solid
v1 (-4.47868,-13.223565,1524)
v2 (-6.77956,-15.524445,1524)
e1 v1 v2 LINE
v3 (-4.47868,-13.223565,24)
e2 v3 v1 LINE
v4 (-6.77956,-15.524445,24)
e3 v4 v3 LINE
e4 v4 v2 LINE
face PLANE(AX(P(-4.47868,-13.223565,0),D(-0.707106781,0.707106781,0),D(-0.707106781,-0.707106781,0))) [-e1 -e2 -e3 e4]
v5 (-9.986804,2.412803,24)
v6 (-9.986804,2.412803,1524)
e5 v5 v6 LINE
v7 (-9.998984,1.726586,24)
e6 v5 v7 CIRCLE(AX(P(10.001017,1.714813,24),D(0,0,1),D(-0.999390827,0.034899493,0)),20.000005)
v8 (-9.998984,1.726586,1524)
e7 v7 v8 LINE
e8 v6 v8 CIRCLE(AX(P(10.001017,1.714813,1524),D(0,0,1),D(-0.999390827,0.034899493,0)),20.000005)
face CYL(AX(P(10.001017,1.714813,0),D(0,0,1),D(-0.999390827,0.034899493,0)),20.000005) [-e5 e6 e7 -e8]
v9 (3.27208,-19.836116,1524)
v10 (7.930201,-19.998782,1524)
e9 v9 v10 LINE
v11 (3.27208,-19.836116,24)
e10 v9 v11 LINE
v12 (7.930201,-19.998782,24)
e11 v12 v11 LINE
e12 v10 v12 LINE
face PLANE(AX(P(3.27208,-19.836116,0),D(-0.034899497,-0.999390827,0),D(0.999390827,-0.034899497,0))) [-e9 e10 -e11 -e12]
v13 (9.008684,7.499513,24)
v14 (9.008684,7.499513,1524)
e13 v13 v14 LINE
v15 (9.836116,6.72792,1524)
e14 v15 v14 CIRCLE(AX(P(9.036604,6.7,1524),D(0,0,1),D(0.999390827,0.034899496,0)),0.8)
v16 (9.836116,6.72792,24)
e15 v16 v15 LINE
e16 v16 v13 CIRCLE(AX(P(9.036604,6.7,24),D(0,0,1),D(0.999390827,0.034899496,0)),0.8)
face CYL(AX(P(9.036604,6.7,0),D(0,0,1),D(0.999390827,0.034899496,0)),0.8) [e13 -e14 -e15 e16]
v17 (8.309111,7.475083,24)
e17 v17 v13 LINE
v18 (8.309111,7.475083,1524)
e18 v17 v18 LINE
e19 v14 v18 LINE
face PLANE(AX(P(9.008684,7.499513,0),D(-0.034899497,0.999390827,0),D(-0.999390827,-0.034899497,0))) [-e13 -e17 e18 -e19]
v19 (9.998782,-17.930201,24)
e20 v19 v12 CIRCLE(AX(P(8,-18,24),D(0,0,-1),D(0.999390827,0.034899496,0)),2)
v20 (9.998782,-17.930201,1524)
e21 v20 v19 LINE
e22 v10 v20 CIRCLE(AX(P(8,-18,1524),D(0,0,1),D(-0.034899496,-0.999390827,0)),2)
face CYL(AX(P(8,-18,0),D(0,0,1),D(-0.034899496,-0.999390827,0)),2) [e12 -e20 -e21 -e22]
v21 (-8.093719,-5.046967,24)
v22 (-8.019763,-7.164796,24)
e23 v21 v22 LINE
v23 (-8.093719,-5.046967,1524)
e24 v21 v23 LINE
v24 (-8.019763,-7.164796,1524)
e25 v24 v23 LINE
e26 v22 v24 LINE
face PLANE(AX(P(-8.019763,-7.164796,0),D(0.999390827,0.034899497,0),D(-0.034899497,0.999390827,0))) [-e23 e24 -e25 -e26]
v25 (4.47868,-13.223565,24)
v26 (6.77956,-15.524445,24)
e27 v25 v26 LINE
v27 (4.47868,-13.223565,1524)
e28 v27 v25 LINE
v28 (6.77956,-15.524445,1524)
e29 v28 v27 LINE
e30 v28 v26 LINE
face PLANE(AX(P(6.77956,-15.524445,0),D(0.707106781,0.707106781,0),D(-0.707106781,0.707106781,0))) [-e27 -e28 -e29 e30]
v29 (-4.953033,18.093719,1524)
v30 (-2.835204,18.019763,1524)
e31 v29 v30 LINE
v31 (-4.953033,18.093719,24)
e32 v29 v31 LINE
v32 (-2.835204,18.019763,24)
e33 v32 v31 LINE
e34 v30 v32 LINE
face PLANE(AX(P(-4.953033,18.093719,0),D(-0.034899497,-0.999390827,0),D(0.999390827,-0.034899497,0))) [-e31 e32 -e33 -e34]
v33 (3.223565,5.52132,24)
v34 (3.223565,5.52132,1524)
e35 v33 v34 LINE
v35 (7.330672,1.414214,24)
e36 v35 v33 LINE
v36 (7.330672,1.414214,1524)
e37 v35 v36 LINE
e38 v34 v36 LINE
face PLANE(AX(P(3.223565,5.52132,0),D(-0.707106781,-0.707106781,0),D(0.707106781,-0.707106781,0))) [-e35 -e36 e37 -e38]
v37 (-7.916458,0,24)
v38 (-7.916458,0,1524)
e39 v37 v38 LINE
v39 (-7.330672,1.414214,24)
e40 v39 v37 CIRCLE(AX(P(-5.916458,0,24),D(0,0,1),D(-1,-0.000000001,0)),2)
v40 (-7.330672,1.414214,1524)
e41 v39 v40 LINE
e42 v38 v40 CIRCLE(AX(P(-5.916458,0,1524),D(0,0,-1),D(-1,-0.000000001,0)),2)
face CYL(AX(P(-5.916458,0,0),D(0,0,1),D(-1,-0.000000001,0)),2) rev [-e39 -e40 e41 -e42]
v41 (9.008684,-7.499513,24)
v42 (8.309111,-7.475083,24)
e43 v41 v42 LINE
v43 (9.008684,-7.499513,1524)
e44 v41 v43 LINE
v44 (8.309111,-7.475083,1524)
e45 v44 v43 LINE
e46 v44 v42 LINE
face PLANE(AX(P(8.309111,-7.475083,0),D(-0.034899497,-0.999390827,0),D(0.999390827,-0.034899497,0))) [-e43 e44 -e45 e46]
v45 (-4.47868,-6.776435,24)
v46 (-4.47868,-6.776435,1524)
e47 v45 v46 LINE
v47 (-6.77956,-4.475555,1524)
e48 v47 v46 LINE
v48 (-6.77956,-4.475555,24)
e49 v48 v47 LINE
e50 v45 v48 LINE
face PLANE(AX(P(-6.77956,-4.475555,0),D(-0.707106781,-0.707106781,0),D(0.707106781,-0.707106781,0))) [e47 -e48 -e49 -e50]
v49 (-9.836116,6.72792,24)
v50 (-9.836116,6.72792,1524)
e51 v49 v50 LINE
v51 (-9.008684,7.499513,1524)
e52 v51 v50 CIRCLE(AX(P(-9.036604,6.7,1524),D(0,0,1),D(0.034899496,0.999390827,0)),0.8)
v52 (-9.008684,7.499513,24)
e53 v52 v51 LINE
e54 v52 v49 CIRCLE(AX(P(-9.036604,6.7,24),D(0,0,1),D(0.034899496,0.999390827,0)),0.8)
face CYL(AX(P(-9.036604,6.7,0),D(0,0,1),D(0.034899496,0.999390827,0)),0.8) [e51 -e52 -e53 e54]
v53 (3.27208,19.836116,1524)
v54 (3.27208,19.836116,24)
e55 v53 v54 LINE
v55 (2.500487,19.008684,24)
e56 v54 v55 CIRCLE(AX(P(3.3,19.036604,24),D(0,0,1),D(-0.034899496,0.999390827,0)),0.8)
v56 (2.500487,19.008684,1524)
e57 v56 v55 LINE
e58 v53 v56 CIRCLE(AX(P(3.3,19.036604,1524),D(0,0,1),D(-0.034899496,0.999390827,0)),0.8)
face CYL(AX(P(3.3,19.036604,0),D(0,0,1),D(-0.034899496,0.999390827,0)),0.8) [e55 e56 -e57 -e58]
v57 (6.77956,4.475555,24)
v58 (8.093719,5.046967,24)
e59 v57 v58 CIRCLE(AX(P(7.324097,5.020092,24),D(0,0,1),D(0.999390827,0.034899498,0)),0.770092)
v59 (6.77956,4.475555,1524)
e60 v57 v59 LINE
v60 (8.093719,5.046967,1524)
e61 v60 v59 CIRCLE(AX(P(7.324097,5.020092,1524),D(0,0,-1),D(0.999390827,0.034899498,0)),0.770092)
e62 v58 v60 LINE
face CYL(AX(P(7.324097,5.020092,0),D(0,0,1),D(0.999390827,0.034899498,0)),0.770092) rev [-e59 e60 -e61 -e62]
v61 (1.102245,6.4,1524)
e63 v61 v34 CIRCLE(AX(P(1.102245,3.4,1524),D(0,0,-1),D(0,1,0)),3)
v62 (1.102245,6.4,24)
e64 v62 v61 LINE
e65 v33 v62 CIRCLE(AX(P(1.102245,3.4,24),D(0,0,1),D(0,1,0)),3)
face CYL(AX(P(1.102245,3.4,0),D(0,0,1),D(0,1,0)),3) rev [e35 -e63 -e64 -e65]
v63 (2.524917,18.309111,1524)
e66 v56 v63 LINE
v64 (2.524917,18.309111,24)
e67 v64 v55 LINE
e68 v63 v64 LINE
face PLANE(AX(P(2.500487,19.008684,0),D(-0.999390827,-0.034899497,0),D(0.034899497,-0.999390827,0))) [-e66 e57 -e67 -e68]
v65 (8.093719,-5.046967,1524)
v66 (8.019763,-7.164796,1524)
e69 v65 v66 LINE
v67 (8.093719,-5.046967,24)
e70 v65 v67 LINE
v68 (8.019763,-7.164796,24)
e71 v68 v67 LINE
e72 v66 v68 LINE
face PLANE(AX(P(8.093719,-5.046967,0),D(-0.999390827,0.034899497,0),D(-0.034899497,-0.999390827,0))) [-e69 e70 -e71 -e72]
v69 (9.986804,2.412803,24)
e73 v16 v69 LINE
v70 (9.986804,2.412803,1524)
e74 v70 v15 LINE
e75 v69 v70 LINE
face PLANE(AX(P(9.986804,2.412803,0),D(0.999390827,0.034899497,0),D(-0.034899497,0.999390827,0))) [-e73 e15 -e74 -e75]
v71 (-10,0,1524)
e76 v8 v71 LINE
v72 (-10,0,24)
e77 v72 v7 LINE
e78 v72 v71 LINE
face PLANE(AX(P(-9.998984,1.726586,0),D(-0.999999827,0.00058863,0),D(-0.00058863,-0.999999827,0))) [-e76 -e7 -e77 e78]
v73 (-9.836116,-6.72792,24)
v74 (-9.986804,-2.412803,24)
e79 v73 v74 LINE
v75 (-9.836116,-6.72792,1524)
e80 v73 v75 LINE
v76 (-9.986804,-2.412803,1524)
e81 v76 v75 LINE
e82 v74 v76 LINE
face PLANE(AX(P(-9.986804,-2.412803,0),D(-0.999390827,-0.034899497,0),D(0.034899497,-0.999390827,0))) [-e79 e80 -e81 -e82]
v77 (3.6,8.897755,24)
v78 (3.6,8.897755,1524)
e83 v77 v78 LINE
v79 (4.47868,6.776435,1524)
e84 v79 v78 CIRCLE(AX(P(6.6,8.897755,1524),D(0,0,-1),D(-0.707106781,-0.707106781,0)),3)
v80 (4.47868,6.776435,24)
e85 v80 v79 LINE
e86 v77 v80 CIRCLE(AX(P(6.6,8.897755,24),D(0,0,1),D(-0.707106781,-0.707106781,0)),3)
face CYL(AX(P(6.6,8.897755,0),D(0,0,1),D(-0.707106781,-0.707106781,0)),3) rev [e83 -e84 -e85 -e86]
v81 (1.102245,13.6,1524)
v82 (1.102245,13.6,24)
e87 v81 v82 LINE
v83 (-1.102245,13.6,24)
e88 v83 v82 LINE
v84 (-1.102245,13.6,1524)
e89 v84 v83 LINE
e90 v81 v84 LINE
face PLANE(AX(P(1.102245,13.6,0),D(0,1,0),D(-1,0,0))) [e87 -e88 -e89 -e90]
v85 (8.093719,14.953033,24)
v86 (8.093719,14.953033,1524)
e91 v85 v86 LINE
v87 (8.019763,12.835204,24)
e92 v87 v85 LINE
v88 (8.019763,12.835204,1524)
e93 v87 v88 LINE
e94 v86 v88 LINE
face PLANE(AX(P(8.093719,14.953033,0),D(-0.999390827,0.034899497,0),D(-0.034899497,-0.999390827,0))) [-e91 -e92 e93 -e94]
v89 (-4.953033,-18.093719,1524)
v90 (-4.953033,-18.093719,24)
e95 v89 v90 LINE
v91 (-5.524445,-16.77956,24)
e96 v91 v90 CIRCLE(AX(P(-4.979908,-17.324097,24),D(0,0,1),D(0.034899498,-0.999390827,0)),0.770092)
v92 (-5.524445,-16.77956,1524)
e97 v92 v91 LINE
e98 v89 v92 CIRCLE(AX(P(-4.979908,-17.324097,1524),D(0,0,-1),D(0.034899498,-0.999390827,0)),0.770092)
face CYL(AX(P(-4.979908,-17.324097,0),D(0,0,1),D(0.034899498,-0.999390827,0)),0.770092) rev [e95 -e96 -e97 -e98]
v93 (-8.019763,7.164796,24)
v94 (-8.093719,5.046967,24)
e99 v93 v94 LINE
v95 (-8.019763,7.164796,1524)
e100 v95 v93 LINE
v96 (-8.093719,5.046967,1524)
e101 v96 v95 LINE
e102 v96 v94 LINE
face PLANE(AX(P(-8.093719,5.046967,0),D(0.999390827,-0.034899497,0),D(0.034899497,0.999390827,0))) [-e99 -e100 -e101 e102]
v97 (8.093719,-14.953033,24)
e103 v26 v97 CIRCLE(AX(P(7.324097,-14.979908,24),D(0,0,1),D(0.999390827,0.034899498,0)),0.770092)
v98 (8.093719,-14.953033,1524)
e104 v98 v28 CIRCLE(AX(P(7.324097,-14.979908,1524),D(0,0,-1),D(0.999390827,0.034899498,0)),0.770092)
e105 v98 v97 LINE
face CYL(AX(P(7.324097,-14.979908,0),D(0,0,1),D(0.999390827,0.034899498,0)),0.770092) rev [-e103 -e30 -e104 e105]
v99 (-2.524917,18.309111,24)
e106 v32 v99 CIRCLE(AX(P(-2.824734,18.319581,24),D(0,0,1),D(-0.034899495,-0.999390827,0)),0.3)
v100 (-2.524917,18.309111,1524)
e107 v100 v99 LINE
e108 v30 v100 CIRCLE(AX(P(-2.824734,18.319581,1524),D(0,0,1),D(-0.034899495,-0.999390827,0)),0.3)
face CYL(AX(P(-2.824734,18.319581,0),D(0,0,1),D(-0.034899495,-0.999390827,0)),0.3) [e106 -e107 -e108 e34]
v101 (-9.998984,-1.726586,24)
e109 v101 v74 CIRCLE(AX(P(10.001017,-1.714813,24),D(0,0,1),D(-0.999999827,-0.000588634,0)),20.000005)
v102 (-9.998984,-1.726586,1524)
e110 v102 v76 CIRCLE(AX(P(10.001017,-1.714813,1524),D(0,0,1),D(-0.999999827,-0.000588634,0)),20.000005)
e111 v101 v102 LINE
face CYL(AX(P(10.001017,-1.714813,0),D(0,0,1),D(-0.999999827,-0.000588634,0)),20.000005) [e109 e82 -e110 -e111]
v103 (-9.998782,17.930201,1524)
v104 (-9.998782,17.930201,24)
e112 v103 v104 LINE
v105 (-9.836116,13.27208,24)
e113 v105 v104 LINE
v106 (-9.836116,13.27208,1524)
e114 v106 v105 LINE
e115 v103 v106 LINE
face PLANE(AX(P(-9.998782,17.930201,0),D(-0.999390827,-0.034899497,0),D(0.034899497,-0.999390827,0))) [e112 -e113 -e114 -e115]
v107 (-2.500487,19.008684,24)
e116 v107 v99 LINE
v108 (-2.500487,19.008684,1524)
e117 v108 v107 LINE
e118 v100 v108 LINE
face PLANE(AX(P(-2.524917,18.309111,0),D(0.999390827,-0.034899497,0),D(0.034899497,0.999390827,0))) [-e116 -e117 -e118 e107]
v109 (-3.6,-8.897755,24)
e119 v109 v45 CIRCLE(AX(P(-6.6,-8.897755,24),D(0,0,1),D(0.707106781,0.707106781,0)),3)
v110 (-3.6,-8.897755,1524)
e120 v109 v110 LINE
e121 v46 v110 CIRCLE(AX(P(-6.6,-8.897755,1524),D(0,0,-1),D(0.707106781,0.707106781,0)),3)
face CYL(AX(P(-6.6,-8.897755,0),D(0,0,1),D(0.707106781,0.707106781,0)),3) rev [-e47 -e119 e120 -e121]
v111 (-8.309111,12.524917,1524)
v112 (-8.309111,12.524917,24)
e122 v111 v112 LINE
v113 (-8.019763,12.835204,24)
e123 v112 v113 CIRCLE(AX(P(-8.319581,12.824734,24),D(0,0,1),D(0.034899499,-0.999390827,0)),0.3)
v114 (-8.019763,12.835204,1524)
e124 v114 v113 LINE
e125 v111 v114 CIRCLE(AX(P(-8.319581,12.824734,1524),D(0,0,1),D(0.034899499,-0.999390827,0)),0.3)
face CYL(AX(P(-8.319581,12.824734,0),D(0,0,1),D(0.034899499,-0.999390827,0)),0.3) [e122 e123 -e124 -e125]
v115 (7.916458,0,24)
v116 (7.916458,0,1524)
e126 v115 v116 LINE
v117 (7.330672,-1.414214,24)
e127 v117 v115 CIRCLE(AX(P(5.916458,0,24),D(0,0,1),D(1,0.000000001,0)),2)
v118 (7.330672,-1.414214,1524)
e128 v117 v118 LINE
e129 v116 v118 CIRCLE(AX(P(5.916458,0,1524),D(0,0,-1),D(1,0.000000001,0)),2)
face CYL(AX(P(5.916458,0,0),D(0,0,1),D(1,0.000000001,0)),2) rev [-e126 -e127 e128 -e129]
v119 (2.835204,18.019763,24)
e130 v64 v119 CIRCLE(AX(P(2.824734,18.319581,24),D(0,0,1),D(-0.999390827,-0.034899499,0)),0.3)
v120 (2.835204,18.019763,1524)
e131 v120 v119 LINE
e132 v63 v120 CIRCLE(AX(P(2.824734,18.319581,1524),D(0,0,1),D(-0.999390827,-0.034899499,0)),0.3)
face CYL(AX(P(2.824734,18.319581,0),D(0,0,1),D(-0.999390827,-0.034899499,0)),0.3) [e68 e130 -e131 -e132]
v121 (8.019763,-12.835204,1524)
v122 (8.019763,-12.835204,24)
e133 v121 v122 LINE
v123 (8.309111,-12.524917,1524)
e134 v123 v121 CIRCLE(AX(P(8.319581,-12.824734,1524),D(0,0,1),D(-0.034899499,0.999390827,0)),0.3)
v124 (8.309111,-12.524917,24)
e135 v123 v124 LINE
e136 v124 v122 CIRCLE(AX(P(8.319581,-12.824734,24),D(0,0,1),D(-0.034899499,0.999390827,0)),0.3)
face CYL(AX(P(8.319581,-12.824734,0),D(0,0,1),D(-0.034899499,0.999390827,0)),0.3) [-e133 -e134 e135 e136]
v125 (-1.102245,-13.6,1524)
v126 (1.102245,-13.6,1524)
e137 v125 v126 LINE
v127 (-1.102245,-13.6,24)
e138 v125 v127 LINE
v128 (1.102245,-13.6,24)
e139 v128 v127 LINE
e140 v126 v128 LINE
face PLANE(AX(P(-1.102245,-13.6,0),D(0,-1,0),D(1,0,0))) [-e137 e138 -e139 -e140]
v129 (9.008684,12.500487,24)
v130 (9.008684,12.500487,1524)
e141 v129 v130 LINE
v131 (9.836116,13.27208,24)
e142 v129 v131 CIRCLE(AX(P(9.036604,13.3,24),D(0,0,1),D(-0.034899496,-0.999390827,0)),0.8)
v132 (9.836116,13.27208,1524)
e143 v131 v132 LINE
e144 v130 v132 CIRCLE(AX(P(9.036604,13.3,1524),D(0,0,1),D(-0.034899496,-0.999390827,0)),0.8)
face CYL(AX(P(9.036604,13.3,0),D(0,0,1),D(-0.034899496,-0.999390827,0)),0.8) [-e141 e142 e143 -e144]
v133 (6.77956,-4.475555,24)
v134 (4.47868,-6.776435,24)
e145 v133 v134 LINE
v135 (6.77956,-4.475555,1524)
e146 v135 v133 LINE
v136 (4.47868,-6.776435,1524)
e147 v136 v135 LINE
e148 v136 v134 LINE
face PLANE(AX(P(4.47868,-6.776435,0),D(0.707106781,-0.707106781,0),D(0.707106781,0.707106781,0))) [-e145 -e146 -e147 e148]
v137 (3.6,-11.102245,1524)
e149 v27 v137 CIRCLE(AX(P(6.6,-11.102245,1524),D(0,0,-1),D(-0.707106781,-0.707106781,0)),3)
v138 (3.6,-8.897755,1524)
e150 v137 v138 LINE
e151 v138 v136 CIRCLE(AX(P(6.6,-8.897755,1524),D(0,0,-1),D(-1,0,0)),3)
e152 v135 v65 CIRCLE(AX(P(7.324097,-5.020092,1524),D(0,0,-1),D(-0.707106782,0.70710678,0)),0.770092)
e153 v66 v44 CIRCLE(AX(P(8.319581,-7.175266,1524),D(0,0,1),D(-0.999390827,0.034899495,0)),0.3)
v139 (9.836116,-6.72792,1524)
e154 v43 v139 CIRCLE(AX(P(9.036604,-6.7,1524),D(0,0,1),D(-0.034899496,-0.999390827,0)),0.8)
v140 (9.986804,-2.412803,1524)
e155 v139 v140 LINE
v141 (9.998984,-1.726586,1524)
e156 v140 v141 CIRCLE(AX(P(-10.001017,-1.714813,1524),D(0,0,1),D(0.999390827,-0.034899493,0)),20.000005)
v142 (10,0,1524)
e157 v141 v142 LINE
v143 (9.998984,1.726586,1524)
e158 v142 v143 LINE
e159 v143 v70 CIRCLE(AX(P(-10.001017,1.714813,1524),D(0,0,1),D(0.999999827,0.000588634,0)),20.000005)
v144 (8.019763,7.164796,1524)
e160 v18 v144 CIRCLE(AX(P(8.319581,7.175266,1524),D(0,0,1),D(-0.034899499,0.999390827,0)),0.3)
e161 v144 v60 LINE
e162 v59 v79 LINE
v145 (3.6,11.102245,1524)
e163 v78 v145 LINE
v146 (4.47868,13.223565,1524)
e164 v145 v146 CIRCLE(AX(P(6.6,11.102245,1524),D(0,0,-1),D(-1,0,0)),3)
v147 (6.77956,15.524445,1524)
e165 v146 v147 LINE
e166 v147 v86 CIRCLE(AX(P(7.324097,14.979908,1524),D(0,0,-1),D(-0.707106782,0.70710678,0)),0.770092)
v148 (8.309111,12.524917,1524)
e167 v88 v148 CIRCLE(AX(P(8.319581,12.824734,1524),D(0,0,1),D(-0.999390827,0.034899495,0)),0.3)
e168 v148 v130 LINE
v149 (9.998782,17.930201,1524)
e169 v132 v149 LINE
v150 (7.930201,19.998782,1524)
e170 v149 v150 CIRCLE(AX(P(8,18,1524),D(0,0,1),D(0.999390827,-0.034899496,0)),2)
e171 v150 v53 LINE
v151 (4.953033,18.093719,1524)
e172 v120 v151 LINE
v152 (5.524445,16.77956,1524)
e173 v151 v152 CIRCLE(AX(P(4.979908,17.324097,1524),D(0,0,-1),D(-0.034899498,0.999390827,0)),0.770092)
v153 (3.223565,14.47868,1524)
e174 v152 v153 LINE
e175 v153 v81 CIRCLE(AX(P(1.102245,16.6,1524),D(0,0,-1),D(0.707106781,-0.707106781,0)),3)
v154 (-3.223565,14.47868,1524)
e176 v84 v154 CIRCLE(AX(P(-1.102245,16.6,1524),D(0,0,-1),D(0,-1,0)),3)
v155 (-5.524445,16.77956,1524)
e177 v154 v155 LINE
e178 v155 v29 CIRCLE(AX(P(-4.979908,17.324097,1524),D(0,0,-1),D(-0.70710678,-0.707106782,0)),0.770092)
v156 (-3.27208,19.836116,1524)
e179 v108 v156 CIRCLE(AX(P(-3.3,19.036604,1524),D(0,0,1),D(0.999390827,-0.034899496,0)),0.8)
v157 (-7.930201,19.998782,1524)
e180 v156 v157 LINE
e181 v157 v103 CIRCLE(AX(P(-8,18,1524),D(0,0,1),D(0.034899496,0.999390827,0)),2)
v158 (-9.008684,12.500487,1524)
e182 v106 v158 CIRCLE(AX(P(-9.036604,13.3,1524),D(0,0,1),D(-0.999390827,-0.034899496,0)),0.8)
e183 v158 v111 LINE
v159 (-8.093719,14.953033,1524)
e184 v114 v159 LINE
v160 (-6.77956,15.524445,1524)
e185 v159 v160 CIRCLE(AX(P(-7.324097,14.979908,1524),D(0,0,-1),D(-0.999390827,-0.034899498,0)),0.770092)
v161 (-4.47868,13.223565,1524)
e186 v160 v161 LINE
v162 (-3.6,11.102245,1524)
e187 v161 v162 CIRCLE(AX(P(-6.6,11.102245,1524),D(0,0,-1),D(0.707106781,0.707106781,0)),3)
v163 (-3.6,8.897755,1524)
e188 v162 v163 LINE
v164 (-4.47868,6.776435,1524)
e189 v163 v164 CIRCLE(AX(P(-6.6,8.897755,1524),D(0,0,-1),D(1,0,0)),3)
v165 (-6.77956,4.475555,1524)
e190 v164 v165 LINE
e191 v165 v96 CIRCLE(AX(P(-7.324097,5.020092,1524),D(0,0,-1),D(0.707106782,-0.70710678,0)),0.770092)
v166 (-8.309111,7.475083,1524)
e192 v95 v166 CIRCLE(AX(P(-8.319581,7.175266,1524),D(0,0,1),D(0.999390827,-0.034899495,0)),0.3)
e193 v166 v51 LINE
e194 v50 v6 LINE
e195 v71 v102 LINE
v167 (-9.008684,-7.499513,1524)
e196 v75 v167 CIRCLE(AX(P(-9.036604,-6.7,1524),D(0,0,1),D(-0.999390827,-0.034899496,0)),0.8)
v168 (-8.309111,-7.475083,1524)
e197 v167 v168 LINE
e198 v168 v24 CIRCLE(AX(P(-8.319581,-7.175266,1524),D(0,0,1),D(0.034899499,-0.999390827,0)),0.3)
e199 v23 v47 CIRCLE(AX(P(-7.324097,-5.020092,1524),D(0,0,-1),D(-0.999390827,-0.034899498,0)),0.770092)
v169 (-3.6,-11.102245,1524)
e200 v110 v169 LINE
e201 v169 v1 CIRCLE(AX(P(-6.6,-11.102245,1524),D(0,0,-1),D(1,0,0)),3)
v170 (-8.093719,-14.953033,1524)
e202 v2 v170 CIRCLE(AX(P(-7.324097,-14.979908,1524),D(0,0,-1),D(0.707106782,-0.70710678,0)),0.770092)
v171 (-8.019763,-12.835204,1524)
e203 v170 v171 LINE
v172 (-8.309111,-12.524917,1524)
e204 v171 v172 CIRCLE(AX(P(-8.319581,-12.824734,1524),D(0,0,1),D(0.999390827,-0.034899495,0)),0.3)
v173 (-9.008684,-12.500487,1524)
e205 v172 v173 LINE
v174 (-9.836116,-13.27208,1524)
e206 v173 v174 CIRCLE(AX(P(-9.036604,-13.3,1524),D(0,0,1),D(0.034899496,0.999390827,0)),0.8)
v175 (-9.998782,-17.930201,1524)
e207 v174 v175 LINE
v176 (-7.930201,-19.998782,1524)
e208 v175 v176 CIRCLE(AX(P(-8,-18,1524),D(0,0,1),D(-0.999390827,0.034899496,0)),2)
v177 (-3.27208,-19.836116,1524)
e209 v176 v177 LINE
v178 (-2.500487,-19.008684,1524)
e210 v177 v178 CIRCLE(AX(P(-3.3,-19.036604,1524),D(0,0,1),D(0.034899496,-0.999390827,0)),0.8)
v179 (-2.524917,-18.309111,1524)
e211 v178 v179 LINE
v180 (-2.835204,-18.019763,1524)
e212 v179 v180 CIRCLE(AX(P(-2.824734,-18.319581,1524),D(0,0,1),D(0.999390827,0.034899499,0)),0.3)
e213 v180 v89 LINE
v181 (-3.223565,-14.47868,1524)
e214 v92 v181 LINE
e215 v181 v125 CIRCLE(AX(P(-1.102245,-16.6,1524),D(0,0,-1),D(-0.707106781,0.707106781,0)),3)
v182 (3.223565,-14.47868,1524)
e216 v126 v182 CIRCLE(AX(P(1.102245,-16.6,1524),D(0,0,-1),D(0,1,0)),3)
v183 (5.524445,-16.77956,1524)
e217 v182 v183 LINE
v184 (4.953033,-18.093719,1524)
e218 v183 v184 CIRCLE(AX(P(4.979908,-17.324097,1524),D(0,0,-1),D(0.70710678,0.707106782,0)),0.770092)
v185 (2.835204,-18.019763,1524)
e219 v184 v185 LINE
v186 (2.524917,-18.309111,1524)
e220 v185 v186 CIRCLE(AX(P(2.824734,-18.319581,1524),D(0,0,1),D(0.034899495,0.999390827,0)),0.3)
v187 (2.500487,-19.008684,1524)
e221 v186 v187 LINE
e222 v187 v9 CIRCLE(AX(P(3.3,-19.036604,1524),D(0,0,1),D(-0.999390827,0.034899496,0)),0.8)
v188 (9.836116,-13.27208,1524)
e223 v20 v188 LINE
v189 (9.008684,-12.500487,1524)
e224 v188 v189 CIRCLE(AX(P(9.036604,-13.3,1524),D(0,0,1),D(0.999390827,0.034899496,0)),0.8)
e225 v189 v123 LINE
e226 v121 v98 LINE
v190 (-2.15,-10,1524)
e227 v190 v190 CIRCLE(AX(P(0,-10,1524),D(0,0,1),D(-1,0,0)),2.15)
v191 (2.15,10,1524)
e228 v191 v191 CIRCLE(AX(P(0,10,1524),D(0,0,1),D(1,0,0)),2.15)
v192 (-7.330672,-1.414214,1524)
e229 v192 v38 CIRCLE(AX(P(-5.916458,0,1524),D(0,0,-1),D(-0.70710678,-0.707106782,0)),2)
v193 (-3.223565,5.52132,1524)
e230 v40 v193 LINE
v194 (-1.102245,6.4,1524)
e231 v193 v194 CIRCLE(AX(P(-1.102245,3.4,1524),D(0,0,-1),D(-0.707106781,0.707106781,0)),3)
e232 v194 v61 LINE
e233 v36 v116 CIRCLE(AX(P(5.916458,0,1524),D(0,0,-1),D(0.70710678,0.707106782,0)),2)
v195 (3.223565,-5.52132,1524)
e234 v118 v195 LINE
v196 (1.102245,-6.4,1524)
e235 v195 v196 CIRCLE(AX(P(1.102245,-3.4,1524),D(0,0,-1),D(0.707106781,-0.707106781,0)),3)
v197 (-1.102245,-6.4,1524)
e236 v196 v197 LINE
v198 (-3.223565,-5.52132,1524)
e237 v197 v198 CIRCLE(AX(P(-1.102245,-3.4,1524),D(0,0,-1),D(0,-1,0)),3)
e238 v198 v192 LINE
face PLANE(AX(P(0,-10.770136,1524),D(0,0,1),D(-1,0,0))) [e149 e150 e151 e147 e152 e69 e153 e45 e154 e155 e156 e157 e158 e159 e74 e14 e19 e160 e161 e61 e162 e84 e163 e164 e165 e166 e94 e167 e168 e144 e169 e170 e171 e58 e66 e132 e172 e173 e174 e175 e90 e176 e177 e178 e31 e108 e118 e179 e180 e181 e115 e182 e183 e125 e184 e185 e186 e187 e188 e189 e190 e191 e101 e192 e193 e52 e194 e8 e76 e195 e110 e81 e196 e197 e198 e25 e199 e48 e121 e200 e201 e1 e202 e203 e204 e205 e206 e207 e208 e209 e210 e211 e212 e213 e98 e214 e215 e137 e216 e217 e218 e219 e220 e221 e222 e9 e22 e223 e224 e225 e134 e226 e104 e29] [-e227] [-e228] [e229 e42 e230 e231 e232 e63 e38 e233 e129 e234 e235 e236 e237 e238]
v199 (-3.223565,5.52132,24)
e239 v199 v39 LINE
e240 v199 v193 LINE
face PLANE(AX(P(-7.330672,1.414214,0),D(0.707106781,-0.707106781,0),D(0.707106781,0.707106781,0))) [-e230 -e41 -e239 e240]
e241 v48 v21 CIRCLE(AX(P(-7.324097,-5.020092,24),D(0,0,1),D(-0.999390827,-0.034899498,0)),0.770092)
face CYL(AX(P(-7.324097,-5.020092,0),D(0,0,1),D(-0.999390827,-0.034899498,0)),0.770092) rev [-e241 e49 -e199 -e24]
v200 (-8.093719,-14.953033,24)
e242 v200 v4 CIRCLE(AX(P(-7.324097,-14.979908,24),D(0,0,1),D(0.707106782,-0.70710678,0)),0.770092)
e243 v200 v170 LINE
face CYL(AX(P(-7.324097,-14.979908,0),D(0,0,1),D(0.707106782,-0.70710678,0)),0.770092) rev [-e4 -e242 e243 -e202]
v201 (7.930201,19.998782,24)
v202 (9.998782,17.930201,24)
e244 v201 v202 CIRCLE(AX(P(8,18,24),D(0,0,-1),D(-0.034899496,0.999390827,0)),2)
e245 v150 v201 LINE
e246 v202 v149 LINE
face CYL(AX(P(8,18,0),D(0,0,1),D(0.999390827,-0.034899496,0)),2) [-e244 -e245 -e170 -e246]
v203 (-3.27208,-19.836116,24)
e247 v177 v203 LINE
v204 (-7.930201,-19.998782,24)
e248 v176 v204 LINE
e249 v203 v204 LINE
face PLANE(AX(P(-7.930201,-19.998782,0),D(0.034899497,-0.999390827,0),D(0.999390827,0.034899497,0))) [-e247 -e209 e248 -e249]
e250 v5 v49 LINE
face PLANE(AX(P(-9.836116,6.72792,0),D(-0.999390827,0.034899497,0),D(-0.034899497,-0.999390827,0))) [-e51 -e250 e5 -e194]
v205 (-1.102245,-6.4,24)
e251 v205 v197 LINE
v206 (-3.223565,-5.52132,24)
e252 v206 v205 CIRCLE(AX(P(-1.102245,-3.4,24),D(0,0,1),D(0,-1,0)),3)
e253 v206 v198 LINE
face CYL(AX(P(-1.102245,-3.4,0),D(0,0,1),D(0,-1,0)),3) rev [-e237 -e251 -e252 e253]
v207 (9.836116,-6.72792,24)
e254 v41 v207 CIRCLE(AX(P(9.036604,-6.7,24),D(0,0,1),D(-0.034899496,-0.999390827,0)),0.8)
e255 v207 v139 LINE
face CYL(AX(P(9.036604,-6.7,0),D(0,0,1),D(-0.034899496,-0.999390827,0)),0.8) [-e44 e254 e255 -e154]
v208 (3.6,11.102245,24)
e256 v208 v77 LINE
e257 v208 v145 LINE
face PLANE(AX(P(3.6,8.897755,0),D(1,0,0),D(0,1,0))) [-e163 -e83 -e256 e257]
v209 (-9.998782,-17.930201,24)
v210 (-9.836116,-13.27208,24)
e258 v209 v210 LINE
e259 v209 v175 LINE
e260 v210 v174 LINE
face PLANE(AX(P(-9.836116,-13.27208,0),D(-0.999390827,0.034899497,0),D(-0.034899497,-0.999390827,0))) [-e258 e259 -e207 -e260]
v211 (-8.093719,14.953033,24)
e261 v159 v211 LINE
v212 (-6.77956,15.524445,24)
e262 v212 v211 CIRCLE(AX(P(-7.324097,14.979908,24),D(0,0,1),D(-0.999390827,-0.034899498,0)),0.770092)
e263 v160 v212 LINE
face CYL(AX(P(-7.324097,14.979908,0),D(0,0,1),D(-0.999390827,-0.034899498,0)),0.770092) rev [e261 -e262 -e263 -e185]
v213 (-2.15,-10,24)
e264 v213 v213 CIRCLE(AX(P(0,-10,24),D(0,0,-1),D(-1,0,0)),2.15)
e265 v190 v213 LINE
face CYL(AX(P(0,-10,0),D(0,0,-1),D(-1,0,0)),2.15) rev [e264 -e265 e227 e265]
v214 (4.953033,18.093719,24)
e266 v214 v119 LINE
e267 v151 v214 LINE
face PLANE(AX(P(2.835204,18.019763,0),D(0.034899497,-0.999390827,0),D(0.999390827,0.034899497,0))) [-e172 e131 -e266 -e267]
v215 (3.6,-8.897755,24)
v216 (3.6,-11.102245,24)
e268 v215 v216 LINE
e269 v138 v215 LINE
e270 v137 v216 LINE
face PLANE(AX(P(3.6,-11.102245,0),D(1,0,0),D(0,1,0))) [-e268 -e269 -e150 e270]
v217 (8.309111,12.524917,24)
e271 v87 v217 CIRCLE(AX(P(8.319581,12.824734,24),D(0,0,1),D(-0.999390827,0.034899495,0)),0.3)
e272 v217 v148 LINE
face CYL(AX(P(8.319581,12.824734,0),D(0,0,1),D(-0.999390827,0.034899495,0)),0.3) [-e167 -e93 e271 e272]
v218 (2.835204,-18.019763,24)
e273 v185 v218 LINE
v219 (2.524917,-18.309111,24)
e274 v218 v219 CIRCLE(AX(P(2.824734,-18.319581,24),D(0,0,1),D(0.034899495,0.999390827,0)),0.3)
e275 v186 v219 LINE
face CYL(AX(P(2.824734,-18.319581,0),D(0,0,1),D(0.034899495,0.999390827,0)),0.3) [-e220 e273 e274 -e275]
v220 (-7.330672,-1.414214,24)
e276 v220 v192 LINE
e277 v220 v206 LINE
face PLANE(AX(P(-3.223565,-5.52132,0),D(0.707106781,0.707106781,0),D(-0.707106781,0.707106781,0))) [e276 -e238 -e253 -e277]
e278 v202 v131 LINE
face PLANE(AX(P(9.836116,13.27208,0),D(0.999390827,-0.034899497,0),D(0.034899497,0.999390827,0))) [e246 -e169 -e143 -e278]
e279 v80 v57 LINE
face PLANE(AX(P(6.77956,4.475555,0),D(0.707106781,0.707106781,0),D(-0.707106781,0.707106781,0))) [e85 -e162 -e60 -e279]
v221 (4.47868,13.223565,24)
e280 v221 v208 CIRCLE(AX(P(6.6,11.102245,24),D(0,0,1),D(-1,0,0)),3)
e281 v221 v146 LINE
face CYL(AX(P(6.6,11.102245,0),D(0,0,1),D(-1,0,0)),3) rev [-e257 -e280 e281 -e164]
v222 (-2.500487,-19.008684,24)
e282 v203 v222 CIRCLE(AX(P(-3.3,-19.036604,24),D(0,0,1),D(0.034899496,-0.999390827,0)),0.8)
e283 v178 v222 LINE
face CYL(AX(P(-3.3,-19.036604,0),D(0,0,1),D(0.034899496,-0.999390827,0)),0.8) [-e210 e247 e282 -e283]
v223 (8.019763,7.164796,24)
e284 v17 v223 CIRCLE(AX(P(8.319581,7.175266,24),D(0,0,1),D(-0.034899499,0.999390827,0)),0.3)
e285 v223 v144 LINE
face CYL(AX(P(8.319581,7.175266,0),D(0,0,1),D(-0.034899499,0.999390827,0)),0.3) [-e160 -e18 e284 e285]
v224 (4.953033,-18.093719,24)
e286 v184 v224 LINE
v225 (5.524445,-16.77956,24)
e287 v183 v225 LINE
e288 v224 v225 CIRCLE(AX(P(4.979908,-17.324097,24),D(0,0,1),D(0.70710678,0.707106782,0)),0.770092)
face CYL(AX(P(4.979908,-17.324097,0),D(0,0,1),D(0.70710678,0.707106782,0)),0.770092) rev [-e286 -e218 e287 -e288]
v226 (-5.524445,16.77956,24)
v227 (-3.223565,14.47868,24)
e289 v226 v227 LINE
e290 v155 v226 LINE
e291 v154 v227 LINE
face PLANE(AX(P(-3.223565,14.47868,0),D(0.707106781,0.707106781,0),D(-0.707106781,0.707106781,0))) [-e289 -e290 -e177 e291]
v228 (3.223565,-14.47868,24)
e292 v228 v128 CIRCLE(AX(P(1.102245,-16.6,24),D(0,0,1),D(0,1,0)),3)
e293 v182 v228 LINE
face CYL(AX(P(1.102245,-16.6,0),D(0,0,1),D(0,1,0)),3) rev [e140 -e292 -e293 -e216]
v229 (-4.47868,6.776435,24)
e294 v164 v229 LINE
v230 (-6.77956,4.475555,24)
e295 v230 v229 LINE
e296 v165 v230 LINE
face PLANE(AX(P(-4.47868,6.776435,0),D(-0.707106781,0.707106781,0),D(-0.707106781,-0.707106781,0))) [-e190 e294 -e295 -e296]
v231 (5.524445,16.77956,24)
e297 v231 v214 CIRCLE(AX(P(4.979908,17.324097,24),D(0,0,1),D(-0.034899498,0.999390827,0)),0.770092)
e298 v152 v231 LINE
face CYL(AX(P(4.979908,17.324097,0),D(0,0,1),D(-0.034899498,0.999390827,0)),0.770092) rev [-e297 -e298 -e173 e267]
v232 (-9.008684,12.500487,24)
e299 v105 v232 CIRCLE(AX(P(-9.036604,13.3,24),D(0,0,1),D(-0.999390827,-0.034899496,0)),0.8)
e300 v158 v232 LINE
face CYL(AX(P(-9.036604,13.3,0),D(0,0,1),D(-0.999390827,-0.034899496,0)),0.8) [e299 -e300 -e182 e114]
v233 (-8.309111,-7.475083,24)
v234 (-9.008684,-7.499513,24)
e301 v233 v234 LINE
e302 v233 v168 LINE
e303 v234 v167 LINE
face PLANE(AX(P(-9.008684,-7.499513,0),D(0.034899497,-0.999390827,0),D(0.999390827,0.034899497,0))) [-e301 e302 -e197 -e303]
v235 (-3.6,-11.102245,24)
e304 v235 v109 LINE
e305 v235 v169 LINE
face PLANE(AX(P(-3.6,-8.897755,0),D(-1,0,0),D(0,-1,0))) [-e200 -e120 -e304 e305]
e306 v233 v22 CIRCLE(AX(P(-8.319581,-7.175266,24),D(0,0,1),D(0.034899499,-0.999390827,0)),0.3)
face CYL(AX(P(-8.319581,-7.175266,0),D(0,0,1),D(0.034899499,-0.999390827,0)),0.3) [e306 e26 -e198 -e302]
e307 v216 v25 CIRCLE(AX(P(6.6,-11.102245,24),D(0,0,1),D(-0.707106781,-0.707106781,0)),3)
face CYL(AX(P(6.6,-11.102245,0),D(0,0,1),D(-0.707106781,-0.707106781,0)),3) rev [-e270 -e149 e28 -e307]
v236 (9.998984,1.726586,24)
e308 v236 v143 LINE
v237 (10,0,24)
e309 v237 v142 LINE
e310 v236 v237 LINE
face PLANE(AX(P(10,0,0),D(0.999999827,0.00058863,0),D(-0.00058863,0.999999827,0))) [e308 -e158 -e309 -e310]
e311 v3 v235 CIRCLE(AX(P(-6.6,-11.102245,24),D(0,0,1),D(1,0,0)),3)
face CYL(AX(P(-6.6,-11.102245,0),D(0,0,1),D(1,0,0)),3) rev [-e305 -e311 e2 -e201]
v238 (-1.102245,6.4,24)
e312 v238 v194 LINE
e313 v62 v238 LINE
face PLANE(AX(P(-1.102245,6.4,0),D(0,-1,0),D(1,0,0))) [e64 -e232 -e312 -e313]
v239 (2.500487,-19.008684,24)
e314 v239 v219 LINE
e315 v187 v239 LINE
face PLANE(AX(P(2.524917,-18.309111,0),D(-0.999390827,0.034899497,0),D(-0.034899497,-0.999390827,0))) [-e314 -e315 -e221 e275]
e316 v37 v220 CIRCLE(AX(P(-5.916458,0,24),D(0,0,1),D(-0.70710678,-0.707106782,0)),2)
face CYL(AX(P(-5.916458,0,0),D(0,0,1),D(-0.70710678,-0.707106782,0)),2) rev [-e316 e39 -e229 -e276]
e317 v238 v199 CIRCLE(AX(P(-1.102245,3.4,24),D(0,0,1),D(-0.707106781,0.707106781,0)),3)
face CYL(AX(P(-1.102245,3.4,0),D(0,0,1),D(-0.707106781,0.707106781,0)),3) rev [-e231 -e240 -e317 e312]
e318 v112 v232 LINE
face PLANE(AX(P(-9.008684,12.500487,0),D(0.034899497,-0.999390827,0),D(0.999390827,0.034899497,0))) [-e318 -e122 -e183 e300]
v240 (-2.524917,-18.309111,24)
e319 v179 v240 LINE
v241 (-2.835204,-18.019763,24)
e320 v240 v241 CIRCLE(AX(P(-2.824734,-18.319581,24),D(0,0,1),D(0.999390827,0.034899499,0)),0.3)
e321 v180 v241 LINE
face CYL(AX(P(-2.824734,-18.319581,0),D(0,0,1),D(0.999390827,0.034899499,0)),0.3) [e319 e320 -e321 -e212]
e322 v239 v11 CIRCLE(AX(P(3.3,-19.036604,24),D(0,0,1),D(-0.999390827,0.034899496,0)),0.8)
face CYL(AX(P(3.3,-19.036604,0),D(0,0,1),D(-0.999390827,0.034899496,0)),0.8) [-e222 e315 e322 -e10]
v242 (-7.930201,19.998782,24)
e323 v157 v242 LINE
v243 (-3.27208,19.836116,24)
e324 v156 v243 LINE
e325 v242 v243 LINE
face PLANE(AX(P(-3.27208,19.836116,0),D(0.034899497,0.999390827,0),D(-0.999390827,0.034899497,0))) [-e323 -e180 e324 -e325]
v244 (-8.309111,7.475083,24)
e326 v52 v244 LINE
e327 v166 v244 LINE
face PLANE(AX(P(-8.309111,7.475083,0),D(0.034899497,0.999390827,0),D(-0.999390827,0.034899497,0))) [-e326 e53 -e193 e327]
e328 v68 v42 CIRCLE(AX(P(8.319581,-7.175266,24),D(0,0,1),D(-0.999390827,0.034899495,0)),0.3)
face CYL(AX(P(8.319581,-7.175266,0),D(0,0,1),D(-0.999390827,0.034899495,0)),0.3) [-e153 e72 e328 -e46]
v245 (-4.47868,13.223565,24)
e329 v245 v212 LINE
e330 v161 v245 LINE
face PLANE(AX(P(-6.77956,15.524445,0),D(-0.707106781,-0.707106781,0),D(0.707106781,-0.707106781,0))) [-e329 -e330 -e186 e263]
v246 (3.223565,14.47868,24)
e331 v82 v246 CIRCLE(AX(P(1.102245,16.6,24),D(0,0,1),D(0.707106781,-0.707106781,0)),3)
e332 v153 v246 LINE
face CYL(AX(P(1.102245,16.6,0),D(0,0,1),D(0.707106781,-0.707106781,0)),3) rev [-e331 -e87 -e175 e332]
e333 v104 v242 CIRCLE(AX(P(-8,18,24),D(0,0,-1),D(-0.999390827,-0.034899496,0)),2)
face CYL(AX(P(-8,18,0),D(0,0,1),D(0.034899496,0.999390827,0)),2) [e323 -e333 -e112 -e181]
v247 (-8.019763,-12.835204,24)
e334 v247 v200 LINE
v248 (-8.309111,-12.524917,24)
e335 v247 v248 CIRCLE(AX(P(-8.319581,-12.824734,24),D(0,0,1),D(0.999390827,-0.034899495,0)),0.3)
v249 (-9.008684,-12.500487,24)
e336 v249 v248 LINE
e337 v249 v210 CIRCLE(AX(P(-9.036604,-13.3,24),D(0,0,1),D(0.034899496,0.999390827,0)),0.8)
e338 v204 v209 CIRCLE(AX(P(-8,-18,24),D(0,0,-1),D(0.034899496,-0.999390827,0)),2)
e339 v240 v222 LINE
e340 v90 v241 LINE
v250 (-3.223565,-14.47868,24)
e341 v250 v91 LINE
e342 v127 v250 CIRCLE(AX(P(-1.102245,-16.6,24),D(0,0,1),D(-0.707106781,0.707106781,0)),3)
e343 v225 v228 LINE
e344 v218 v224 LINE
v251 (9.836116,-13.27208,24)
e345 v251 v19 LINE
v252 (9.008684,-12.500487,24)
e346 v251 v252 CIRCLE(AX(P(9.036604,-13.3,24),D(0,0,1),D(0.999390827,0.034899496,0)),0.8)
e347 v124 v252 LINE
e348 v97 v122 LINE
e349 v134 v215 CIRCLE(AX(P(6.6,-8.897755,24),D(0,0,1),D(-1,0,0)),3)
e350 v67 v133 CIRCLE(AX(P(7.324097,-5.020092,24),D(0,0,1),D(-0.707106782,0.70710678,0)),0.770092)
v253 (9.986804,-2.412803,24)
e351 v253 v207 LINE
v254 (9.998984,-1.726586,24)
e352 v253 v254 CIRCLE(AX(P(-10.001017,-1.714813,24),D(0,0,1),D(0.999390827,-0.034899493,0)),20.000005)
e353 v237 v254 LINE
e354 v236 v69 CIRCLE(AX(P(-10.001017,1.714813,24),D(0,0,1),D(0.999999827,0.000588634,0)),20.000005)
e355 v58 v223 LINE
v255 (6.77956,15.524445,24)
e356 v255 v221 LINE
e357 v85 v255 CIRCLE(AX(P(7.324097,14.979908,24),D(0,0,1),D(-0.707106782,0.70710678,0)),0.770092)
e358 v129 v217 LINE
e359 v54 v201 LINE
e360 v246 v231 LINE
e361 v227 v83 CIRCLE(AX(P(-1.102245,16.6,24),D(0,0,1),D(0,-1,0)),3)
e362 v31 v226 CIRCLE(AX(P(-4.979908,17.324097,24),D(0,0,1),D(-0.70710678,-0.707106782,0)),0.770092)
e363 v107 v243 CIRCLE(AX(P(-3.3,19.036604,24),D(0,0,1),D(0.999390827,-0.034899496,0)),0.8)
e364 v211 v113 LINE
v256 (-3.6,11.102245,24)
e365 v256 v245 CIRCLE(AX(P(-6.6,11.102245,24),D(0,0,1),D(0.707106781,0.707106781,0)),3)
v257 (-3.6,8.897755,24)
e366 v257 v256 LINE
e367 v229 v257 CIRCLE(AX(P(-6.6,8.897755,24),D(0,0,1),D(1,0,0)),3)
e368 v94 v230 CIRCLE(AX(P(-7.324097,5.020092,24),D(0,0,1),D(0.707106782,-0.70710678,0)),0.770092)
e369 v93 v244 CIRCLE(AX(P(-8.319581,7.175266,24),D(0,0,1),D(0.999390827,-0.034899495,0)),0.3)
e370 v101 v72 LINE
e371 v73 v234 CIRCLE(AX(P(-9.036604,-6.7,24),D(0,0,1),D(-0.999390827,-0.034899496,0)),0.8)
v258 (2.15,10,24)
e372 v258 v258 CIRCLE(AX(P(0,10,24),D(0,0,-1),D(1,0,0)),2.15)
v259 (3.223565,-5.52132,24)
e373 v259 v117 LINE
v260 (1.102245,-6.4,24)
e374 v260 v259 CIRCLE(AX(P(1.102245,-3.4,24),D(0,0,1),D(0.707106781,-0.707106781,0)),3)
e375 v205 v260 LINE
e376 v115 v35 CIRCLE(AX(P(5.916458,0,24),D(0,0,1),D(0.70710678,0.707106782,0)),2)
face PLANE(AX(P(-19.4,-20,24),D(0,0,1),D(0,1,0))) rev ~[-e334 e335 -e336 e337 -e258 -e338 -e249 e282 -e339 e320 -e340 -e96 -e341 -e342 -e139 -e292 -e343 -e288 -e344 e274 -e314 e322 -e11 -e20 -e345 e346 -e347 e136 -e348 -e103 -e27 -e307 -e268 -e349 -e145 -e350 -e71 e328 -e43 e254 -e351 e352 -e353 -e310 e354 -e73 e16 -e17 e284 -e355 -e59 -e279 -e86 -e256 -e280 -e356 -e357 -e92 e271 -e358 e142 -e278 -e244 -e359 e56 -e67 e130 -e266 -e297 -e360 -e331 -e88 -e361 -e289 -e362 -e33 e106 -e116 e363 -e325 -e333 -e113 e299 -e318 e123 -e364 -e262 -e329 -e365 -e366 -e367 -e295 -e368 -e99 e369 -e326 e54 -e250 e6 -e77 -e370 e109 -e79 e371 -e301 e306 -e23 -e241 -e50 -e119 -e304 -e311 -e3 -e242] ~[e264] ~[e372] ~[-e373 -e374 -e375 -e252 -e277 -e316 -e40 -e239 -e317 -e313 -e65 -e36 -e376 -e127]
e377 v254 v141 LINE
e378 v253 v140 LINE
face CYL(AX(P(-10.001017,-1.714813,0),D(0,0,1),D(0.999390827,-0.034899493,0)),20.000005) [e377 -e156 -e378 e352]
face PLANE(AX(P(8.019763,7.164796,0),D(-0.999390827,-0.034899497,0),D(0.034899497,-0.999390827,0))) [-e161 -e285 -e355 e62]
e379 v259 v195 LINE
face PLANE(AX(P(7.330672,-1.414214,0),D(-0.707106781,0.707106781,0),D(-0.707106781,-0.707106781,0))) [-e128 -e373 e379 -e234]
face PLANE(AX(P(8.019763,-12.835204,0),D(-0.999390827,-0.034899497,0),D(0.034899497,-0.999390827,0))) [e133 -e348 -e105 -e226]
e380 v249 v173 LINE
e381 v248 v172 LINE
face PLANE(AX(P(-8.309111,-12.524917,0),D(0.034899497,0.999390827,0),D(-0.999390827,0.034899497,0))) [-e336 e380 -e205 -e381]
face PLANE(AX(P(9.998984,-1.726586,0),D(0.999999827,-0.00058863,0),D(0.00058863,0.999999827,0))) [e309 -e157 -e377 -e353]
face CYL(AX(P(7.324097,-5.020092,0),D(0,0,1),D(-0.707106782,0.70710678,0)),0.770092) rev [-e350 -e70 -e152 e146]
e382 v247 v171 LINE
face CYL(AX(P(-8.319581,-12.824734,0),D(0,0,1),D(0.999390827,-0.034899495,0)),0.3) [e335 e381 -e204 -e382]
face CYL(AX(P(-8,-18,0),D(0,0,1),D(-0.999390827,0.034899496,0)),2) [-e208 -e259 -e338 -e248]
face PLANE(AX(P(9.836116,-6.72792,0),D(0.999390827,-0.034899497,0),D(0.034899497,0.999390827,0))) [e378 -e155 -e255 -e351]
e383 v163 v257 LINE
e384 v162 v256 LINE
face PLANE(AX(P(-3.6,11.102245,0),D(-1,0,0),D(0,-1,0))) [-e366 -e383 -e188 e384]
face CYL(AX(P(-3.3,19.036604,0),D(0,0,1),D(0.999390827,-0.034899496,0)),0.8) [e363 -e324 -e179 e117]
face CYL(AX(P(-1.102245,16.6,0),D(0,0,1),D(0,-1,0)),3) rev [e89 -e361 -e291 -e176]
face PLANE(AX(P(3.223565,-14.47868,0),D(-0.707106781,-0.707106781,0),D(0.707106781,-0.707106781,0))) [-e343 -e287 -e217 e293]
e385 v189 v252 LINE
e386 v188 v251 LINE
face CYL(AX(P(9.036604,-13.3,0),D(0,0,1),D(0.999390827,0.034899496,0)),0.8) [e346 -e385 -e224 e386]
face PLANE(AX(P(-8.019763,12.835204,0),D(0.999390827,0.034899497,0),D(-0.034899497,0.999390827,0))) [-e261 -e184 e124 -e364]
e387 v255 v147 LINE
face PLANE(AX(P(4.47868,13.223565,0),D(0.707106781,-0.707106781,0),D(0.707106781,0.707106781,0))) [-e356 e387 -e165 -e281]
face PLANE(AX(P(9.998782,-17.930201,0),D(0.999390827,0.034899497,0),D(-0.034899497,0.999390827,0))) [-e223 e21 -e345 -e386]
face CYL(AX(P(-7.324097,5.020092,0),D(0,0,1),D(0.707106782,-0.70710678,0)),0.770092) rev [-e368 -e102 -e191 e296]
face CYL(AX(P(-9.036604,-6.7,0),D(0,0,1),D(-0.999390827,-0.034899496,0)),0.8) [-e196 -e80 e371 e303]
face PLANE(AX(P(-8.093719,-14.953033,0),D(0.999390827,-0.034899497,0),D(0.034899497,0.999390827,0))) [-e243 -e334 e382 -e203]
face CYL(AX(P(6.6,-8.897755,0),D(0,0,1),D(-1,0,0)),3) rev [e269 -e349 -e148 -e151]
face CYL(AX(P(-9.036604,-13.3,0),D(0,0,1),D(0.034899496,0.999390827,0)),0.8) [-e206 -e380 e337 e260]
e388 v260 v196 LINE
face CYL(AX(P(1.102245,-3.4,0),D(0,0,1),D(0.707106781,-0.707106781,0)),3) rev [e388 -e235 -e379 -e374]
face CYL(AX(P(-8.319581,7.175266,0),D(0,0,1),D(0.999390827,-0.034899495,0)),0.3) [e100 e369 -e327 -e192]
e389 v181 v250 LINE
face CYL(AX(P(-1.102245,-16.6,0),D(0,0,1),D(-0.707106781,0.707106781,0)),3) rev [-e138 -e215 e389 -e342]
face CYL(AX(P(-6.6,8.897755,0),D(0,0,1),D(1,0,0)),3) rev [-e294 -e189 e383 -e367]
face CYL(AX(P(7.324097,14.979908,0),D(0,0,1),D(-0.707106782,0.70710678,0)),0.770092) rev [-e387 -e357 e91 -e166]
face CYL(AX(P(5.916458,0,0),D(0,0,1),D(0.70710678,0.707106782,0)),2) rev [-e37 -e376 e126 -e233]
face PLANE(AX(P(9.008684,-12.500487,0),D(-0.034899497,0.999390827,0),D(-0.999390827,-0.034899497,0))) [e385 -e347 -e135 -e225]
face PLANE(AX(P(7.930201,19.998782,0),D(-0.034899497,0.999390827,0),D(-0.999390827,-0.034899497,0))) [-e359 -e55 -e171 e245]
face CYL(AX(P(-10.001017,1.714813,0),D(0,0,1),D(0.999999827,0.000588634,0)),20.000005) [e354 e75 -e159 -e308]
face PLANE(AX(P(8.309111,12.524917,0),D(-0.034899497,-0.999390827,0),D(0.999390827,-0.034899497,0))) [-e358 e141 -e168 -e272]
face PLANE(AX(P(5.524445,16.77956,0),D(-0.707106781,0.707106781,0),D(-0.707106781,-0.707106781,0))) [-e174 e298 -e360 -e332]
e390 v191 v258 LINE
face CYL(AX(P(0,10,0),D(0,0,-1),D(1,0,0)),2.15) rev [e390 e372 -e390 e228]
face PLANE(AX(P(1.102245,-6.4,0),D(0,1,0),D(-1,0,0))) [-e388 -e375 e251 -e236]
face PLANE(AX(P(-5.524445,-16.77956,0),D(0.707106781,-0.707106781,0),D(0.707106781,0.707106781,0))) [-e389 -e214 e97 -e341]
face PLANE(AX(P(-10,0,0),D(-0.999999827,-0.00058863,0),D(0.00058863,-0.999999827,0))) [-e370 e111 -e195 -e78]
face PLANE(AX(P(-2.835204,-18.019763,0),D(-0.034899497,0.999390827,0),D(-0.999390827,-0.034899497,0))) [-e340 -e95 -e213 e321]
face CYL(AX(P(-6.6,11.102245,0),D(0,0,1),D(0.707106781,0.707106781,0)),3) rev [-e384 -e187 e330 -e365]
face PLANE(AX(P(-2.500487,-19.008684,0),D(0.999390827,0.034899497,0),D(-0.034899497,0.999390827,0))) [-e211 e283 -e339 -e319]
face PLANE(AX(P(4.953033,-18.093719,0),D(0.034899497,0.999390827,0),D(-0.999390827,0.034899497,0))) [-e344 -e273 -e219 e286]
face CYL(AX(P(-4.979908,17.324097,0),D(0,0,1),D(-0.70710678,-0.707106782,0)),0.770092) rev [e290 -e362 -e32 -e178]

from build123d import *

# Parameters (mm, degrees)
SKETCH3_R               = 2.15
BOSS_EXTRUDE1_DEPTH     = 1524
CIRPATTERN1_COUNT       = 2
CUT_EXTRUDE1_DEPTH      = 14
CUT_EXTRUDE1_DEPTH_BACK = 23
SKETCH4_OUTSIDE_W       = 3659.666
SKETCH4_OUTSIDE_H       = 651.666
SKETCH4_OUTSIDE_W_2     = 1500
SKETCH4_OUTSIDE_H_2     = 40


with BuildPart() as part:
    # Sketch3 → Boss-Extrude1 (new, symmetric)
    with BuildSketch(Plane.XY):
        with BuildLine():
            Line((-8.30911066, 7.475083014), (-9.008684239, 7.499512662))
            ThreePointArc((-9.008684239, 7.499512662), (-9.582202525, 7.285082961), (-9.836116498, 6.727919597))
            Line((-9.836116498, 6.727919597), (-9.986803685, 2.412803152))
            ThreePointArc((-9.986803685, 2.412803152), (-9.995837451, 2.069746735), (-9.99898368, 1.726585818))
            Line((-9.99898368, 1.726585818), (-10, 0))
            Line((-10, 0), (-7.916458339, 0))
            ThreePointArc((-7.916458339, 0), (-7.764217404, 0.765366865), (-7.330671901, 1.414213562))
            Line((-7.330671901, 1.414213562), (-3.22356512, 5.521320344))
            ThreePointArc((-3.22356512, 5.521320344), (-2.250295073, 6.171638598), (-1.102244776, 6.4))
            Line((-1.102244776, 6.4), (1.102244776, 6.4))
            ThreePointArc((1.102244776, 6.4), (2.250295073, 6.171638598), (3.22356512, 5.521320344))
            Line((3.22356512, 5.521320344), (7.330671901, 1.414213562))
            ThreePointArc((7.330671901, 1.414213562), (7.764217404, 0.765366865), (7.916458339, 0))
            Line((7.916458339, 0), (10, 0))
            Line((10, 0), (9.99898368, 1.726585818))
            ThreePointArc((9.99898368, 1.726585818), (9.995837451, 2.069746735), (9.986803685, 2.412803152))
            Line((9.986803685, 2.412803152), (9.836116498, 6.727919597))
            ThreePointArc((9.836116498, 6.727919597), (9.582202525, 7.285082961), (9.008684239, 7.499512662))
            Line((9.008684239, 7.499512662), (8.30911066, 7.475083014))
            ThreePointArc((8.30911066, 7.475083014), (8.100174399, 7.379865274), (8.019763261, 7.164795917))
            Line((8.019763261, 7.164795917), (8.093719461, 5.046967452))
            ThreePointArc((8.093719461, 5.046967452), (7.631170264, 4.313871343), (6.779559917, 4.47555462))
            Line((6.779559917, 4.47555462), (4.478679656, 6.77643488))
            ThreePointArc((4.478679656, 6.77643488), (3.828361402, 7.749704927), (3.6, 8.897755224))
            Line((3.6, 8.897755224), (3.6, 11.102244776))
            ThreePointArc((3.6, 11.102244776), (3.828361402, 12.250295073), (4.478679656, 13.22356512))
            Line((4.478679656, 13.22356512), (6.779559917, 15.52444538))
            ThreePointArc((6.779559917, 15.52444538), (7.631170264, 15.686128657), (8.093719461, 14.953032548))
            Line((8.093719461, 14.953032548), (8.019763261, 12.835204083))
            ThreePointArc((8.019763261, 12.835204083), (8.100174399, 12.620134726), (8.30911066, 12.524916986))
            Line((8.30911066, 12.524916986), (9.008684239, 12.500487338))
            ThreePointArc((9.008684239, 12.500487338), (9.582202525, 12.714917039), (9.836116498, 13.272080403))
            Line((9.836116498, 13.272080403), (9.998781654, 17.930201007))
            ThreePointArc((9.998781654, 17.930201007), (9.414213562, 19.414213562), (7.930201007, 19.998781654))
            Line((7.930201007, 19.998781654), (3.272080403, 19.836116498))
            ThreePointArc((3.272080403, 19.836116498), (2.714917039, 19.582202525), (2.500487338, 19.008684239))
            Line((2.500487338, 19.008684239), (2.524916986, 18.30911066))
            ThreePointArc((2.524916986, 18.30911066), (2.620134726, 18.100174399), (2.835204083, 18.019763261))
            Line((2.835204083, 18.019763261), (4.953032548, 18.093719461))
            ThreePointArc((4.953032548, 18.093719461), (5.686128657, 17.631170264), (5.52444538, 16.779559917))
            Line((5.52444538, 16.779559917), (3.22356512, 14.478679656))
            ThreePointArc((3.22356512, 14.478679656), (2.250295073, 13.828361402), (1.102244776, 13.6))
            Line((1.102244776, 13.6), (-1.102244776, 13.6))
            ThreePointArc((-1.102244776, 13.6), (-2.250295073, 13.828361402), (-3.22356512, 14.478679656))
            Line((-3.22356512, 14.478679656), (-5.52444538, 16.779559917))
            ThreePointArc((-5.52444538, 16.779559917), (-5.686128657, 17.631170264), (-4.953032548, 18.093719461))
            Line((-4.953032548, 18.093719461), (-2.835204083, 18.019763261))
            ThreePointArc((-2.835204083, 18.019763261), (-2.620134726, 18.100174399), (-2.524916986, 18.30911066))
            Line((-2.524916986, 18.30911066), (-2.500487338, 19.008684239))
            ThreePointArc((-2.500487338, 19.008684239), (-2.714917039, 19.582202525), (-3.272080403, 19.836116498))
            Line((-3.272080403, 19.836116498), (-7.930201007, 19.998781654))
            ThreePointArc((-7.930201007, 19.998781654), (-9.414213562, 19.414213562), (-9.998781654, 17.930201007))
            Line((-9.998781654, 17.930201007), (-9.836116498, 13.272080403))
            ThreePointArc((-9.836116498, 13.272080403), (-9.582202525, 12.714917039), (-9.008684239, 12.500487338))
            Line((-9.008684239, 12.500487338), (-8.30911066, 12.524916986))
            ThreePointArc((-8.30911066, 12.524916986), (-8.100174399, 12.620134726), (-8.019763261, 12.835204083))
            Line((-8.019763261, 12.835204083), (-8.093719461, 14.953032548))
            ThreePointArc((-8.093719461, 14.953032548), (-7.631170264, 15.686128657), (-6.779559917, 15.52444538))
            Line((-6.779559917, 15.52444538), (-4.478679656, 13.22356512))
            ThreePointArc((-4.478679656, 13.22356512), (-3.828361402, 12.250295073), (-3.6, 11.102244776))
            Line((-3.6, 11.102244776), (-3.6, 8.897755224))
            ThreePointArc((-3.6, 8.897755224), (-3.828361402, 7.749704927), (-4.478679656, 6.77643488))
            Line((-4.478679656, 6.77643488), (-6.779559917, 4.47555462))
            ThreePointArc((-6.779559917, 4.47555462), (-7.631170264, 4.313871343), (-8.093719461, 5.046967452))
            Line((-8.093719461, 5.046967452), (-8.019763261, 7.164795917))
            ThreePointArc((-8.019763261, 7.164795917), (-8.100174399, 7.379865274), (-8.30911066, 7.475083014))
        make_face()
        with Locations((0, 10)):
            Circle(SKETCH3_R, mode=Mode.SUBTRACT)
    boss_extrude1 = extrude(amount=BOSS_EXTRUDE1_DEPTH, both=True)

    # CirPattern1: Boss-Extrude1 ×2 about axis
    cirpattern1_axis = Axis((0, 0, 0), (0, 0, 1))
    for i in range(1, CIRPATTERN1_COUNT):
        add(boss_extrude1.rotate(cirpattern1_axis, i * 360 / CIRPATTERN1_COUNT))

    # Sketch4 outside → Cut-Extrude1 (cut, two sides: drawn at the far end of the back side and taken through both)
    with BuildSketch(Plane(origin=(3.6, 0, 0), x_dir=(0, 0, -1), z_dir=(1, 0, 0)).offset(-CUT_EXTRUDE1_DEPTH_BACK)):
        Rectangle(SKETCH4_OUTSIDE_W, SKETCH4_OUTSIDE_H)
        with Locations((-774, 0)):
            Rectangle(SKETCH4_OUTSIDE_W_2, SKETCH4_OUTSIDE_H_2, mode=Mode.SUBTRACT)
    extrude(amount=CUT_EXTRUDE1_DEPTH + CUT_EXTRUDE1_DEPTH_BACK, mode=Mode.SUBTRACT)


solid = part.part
